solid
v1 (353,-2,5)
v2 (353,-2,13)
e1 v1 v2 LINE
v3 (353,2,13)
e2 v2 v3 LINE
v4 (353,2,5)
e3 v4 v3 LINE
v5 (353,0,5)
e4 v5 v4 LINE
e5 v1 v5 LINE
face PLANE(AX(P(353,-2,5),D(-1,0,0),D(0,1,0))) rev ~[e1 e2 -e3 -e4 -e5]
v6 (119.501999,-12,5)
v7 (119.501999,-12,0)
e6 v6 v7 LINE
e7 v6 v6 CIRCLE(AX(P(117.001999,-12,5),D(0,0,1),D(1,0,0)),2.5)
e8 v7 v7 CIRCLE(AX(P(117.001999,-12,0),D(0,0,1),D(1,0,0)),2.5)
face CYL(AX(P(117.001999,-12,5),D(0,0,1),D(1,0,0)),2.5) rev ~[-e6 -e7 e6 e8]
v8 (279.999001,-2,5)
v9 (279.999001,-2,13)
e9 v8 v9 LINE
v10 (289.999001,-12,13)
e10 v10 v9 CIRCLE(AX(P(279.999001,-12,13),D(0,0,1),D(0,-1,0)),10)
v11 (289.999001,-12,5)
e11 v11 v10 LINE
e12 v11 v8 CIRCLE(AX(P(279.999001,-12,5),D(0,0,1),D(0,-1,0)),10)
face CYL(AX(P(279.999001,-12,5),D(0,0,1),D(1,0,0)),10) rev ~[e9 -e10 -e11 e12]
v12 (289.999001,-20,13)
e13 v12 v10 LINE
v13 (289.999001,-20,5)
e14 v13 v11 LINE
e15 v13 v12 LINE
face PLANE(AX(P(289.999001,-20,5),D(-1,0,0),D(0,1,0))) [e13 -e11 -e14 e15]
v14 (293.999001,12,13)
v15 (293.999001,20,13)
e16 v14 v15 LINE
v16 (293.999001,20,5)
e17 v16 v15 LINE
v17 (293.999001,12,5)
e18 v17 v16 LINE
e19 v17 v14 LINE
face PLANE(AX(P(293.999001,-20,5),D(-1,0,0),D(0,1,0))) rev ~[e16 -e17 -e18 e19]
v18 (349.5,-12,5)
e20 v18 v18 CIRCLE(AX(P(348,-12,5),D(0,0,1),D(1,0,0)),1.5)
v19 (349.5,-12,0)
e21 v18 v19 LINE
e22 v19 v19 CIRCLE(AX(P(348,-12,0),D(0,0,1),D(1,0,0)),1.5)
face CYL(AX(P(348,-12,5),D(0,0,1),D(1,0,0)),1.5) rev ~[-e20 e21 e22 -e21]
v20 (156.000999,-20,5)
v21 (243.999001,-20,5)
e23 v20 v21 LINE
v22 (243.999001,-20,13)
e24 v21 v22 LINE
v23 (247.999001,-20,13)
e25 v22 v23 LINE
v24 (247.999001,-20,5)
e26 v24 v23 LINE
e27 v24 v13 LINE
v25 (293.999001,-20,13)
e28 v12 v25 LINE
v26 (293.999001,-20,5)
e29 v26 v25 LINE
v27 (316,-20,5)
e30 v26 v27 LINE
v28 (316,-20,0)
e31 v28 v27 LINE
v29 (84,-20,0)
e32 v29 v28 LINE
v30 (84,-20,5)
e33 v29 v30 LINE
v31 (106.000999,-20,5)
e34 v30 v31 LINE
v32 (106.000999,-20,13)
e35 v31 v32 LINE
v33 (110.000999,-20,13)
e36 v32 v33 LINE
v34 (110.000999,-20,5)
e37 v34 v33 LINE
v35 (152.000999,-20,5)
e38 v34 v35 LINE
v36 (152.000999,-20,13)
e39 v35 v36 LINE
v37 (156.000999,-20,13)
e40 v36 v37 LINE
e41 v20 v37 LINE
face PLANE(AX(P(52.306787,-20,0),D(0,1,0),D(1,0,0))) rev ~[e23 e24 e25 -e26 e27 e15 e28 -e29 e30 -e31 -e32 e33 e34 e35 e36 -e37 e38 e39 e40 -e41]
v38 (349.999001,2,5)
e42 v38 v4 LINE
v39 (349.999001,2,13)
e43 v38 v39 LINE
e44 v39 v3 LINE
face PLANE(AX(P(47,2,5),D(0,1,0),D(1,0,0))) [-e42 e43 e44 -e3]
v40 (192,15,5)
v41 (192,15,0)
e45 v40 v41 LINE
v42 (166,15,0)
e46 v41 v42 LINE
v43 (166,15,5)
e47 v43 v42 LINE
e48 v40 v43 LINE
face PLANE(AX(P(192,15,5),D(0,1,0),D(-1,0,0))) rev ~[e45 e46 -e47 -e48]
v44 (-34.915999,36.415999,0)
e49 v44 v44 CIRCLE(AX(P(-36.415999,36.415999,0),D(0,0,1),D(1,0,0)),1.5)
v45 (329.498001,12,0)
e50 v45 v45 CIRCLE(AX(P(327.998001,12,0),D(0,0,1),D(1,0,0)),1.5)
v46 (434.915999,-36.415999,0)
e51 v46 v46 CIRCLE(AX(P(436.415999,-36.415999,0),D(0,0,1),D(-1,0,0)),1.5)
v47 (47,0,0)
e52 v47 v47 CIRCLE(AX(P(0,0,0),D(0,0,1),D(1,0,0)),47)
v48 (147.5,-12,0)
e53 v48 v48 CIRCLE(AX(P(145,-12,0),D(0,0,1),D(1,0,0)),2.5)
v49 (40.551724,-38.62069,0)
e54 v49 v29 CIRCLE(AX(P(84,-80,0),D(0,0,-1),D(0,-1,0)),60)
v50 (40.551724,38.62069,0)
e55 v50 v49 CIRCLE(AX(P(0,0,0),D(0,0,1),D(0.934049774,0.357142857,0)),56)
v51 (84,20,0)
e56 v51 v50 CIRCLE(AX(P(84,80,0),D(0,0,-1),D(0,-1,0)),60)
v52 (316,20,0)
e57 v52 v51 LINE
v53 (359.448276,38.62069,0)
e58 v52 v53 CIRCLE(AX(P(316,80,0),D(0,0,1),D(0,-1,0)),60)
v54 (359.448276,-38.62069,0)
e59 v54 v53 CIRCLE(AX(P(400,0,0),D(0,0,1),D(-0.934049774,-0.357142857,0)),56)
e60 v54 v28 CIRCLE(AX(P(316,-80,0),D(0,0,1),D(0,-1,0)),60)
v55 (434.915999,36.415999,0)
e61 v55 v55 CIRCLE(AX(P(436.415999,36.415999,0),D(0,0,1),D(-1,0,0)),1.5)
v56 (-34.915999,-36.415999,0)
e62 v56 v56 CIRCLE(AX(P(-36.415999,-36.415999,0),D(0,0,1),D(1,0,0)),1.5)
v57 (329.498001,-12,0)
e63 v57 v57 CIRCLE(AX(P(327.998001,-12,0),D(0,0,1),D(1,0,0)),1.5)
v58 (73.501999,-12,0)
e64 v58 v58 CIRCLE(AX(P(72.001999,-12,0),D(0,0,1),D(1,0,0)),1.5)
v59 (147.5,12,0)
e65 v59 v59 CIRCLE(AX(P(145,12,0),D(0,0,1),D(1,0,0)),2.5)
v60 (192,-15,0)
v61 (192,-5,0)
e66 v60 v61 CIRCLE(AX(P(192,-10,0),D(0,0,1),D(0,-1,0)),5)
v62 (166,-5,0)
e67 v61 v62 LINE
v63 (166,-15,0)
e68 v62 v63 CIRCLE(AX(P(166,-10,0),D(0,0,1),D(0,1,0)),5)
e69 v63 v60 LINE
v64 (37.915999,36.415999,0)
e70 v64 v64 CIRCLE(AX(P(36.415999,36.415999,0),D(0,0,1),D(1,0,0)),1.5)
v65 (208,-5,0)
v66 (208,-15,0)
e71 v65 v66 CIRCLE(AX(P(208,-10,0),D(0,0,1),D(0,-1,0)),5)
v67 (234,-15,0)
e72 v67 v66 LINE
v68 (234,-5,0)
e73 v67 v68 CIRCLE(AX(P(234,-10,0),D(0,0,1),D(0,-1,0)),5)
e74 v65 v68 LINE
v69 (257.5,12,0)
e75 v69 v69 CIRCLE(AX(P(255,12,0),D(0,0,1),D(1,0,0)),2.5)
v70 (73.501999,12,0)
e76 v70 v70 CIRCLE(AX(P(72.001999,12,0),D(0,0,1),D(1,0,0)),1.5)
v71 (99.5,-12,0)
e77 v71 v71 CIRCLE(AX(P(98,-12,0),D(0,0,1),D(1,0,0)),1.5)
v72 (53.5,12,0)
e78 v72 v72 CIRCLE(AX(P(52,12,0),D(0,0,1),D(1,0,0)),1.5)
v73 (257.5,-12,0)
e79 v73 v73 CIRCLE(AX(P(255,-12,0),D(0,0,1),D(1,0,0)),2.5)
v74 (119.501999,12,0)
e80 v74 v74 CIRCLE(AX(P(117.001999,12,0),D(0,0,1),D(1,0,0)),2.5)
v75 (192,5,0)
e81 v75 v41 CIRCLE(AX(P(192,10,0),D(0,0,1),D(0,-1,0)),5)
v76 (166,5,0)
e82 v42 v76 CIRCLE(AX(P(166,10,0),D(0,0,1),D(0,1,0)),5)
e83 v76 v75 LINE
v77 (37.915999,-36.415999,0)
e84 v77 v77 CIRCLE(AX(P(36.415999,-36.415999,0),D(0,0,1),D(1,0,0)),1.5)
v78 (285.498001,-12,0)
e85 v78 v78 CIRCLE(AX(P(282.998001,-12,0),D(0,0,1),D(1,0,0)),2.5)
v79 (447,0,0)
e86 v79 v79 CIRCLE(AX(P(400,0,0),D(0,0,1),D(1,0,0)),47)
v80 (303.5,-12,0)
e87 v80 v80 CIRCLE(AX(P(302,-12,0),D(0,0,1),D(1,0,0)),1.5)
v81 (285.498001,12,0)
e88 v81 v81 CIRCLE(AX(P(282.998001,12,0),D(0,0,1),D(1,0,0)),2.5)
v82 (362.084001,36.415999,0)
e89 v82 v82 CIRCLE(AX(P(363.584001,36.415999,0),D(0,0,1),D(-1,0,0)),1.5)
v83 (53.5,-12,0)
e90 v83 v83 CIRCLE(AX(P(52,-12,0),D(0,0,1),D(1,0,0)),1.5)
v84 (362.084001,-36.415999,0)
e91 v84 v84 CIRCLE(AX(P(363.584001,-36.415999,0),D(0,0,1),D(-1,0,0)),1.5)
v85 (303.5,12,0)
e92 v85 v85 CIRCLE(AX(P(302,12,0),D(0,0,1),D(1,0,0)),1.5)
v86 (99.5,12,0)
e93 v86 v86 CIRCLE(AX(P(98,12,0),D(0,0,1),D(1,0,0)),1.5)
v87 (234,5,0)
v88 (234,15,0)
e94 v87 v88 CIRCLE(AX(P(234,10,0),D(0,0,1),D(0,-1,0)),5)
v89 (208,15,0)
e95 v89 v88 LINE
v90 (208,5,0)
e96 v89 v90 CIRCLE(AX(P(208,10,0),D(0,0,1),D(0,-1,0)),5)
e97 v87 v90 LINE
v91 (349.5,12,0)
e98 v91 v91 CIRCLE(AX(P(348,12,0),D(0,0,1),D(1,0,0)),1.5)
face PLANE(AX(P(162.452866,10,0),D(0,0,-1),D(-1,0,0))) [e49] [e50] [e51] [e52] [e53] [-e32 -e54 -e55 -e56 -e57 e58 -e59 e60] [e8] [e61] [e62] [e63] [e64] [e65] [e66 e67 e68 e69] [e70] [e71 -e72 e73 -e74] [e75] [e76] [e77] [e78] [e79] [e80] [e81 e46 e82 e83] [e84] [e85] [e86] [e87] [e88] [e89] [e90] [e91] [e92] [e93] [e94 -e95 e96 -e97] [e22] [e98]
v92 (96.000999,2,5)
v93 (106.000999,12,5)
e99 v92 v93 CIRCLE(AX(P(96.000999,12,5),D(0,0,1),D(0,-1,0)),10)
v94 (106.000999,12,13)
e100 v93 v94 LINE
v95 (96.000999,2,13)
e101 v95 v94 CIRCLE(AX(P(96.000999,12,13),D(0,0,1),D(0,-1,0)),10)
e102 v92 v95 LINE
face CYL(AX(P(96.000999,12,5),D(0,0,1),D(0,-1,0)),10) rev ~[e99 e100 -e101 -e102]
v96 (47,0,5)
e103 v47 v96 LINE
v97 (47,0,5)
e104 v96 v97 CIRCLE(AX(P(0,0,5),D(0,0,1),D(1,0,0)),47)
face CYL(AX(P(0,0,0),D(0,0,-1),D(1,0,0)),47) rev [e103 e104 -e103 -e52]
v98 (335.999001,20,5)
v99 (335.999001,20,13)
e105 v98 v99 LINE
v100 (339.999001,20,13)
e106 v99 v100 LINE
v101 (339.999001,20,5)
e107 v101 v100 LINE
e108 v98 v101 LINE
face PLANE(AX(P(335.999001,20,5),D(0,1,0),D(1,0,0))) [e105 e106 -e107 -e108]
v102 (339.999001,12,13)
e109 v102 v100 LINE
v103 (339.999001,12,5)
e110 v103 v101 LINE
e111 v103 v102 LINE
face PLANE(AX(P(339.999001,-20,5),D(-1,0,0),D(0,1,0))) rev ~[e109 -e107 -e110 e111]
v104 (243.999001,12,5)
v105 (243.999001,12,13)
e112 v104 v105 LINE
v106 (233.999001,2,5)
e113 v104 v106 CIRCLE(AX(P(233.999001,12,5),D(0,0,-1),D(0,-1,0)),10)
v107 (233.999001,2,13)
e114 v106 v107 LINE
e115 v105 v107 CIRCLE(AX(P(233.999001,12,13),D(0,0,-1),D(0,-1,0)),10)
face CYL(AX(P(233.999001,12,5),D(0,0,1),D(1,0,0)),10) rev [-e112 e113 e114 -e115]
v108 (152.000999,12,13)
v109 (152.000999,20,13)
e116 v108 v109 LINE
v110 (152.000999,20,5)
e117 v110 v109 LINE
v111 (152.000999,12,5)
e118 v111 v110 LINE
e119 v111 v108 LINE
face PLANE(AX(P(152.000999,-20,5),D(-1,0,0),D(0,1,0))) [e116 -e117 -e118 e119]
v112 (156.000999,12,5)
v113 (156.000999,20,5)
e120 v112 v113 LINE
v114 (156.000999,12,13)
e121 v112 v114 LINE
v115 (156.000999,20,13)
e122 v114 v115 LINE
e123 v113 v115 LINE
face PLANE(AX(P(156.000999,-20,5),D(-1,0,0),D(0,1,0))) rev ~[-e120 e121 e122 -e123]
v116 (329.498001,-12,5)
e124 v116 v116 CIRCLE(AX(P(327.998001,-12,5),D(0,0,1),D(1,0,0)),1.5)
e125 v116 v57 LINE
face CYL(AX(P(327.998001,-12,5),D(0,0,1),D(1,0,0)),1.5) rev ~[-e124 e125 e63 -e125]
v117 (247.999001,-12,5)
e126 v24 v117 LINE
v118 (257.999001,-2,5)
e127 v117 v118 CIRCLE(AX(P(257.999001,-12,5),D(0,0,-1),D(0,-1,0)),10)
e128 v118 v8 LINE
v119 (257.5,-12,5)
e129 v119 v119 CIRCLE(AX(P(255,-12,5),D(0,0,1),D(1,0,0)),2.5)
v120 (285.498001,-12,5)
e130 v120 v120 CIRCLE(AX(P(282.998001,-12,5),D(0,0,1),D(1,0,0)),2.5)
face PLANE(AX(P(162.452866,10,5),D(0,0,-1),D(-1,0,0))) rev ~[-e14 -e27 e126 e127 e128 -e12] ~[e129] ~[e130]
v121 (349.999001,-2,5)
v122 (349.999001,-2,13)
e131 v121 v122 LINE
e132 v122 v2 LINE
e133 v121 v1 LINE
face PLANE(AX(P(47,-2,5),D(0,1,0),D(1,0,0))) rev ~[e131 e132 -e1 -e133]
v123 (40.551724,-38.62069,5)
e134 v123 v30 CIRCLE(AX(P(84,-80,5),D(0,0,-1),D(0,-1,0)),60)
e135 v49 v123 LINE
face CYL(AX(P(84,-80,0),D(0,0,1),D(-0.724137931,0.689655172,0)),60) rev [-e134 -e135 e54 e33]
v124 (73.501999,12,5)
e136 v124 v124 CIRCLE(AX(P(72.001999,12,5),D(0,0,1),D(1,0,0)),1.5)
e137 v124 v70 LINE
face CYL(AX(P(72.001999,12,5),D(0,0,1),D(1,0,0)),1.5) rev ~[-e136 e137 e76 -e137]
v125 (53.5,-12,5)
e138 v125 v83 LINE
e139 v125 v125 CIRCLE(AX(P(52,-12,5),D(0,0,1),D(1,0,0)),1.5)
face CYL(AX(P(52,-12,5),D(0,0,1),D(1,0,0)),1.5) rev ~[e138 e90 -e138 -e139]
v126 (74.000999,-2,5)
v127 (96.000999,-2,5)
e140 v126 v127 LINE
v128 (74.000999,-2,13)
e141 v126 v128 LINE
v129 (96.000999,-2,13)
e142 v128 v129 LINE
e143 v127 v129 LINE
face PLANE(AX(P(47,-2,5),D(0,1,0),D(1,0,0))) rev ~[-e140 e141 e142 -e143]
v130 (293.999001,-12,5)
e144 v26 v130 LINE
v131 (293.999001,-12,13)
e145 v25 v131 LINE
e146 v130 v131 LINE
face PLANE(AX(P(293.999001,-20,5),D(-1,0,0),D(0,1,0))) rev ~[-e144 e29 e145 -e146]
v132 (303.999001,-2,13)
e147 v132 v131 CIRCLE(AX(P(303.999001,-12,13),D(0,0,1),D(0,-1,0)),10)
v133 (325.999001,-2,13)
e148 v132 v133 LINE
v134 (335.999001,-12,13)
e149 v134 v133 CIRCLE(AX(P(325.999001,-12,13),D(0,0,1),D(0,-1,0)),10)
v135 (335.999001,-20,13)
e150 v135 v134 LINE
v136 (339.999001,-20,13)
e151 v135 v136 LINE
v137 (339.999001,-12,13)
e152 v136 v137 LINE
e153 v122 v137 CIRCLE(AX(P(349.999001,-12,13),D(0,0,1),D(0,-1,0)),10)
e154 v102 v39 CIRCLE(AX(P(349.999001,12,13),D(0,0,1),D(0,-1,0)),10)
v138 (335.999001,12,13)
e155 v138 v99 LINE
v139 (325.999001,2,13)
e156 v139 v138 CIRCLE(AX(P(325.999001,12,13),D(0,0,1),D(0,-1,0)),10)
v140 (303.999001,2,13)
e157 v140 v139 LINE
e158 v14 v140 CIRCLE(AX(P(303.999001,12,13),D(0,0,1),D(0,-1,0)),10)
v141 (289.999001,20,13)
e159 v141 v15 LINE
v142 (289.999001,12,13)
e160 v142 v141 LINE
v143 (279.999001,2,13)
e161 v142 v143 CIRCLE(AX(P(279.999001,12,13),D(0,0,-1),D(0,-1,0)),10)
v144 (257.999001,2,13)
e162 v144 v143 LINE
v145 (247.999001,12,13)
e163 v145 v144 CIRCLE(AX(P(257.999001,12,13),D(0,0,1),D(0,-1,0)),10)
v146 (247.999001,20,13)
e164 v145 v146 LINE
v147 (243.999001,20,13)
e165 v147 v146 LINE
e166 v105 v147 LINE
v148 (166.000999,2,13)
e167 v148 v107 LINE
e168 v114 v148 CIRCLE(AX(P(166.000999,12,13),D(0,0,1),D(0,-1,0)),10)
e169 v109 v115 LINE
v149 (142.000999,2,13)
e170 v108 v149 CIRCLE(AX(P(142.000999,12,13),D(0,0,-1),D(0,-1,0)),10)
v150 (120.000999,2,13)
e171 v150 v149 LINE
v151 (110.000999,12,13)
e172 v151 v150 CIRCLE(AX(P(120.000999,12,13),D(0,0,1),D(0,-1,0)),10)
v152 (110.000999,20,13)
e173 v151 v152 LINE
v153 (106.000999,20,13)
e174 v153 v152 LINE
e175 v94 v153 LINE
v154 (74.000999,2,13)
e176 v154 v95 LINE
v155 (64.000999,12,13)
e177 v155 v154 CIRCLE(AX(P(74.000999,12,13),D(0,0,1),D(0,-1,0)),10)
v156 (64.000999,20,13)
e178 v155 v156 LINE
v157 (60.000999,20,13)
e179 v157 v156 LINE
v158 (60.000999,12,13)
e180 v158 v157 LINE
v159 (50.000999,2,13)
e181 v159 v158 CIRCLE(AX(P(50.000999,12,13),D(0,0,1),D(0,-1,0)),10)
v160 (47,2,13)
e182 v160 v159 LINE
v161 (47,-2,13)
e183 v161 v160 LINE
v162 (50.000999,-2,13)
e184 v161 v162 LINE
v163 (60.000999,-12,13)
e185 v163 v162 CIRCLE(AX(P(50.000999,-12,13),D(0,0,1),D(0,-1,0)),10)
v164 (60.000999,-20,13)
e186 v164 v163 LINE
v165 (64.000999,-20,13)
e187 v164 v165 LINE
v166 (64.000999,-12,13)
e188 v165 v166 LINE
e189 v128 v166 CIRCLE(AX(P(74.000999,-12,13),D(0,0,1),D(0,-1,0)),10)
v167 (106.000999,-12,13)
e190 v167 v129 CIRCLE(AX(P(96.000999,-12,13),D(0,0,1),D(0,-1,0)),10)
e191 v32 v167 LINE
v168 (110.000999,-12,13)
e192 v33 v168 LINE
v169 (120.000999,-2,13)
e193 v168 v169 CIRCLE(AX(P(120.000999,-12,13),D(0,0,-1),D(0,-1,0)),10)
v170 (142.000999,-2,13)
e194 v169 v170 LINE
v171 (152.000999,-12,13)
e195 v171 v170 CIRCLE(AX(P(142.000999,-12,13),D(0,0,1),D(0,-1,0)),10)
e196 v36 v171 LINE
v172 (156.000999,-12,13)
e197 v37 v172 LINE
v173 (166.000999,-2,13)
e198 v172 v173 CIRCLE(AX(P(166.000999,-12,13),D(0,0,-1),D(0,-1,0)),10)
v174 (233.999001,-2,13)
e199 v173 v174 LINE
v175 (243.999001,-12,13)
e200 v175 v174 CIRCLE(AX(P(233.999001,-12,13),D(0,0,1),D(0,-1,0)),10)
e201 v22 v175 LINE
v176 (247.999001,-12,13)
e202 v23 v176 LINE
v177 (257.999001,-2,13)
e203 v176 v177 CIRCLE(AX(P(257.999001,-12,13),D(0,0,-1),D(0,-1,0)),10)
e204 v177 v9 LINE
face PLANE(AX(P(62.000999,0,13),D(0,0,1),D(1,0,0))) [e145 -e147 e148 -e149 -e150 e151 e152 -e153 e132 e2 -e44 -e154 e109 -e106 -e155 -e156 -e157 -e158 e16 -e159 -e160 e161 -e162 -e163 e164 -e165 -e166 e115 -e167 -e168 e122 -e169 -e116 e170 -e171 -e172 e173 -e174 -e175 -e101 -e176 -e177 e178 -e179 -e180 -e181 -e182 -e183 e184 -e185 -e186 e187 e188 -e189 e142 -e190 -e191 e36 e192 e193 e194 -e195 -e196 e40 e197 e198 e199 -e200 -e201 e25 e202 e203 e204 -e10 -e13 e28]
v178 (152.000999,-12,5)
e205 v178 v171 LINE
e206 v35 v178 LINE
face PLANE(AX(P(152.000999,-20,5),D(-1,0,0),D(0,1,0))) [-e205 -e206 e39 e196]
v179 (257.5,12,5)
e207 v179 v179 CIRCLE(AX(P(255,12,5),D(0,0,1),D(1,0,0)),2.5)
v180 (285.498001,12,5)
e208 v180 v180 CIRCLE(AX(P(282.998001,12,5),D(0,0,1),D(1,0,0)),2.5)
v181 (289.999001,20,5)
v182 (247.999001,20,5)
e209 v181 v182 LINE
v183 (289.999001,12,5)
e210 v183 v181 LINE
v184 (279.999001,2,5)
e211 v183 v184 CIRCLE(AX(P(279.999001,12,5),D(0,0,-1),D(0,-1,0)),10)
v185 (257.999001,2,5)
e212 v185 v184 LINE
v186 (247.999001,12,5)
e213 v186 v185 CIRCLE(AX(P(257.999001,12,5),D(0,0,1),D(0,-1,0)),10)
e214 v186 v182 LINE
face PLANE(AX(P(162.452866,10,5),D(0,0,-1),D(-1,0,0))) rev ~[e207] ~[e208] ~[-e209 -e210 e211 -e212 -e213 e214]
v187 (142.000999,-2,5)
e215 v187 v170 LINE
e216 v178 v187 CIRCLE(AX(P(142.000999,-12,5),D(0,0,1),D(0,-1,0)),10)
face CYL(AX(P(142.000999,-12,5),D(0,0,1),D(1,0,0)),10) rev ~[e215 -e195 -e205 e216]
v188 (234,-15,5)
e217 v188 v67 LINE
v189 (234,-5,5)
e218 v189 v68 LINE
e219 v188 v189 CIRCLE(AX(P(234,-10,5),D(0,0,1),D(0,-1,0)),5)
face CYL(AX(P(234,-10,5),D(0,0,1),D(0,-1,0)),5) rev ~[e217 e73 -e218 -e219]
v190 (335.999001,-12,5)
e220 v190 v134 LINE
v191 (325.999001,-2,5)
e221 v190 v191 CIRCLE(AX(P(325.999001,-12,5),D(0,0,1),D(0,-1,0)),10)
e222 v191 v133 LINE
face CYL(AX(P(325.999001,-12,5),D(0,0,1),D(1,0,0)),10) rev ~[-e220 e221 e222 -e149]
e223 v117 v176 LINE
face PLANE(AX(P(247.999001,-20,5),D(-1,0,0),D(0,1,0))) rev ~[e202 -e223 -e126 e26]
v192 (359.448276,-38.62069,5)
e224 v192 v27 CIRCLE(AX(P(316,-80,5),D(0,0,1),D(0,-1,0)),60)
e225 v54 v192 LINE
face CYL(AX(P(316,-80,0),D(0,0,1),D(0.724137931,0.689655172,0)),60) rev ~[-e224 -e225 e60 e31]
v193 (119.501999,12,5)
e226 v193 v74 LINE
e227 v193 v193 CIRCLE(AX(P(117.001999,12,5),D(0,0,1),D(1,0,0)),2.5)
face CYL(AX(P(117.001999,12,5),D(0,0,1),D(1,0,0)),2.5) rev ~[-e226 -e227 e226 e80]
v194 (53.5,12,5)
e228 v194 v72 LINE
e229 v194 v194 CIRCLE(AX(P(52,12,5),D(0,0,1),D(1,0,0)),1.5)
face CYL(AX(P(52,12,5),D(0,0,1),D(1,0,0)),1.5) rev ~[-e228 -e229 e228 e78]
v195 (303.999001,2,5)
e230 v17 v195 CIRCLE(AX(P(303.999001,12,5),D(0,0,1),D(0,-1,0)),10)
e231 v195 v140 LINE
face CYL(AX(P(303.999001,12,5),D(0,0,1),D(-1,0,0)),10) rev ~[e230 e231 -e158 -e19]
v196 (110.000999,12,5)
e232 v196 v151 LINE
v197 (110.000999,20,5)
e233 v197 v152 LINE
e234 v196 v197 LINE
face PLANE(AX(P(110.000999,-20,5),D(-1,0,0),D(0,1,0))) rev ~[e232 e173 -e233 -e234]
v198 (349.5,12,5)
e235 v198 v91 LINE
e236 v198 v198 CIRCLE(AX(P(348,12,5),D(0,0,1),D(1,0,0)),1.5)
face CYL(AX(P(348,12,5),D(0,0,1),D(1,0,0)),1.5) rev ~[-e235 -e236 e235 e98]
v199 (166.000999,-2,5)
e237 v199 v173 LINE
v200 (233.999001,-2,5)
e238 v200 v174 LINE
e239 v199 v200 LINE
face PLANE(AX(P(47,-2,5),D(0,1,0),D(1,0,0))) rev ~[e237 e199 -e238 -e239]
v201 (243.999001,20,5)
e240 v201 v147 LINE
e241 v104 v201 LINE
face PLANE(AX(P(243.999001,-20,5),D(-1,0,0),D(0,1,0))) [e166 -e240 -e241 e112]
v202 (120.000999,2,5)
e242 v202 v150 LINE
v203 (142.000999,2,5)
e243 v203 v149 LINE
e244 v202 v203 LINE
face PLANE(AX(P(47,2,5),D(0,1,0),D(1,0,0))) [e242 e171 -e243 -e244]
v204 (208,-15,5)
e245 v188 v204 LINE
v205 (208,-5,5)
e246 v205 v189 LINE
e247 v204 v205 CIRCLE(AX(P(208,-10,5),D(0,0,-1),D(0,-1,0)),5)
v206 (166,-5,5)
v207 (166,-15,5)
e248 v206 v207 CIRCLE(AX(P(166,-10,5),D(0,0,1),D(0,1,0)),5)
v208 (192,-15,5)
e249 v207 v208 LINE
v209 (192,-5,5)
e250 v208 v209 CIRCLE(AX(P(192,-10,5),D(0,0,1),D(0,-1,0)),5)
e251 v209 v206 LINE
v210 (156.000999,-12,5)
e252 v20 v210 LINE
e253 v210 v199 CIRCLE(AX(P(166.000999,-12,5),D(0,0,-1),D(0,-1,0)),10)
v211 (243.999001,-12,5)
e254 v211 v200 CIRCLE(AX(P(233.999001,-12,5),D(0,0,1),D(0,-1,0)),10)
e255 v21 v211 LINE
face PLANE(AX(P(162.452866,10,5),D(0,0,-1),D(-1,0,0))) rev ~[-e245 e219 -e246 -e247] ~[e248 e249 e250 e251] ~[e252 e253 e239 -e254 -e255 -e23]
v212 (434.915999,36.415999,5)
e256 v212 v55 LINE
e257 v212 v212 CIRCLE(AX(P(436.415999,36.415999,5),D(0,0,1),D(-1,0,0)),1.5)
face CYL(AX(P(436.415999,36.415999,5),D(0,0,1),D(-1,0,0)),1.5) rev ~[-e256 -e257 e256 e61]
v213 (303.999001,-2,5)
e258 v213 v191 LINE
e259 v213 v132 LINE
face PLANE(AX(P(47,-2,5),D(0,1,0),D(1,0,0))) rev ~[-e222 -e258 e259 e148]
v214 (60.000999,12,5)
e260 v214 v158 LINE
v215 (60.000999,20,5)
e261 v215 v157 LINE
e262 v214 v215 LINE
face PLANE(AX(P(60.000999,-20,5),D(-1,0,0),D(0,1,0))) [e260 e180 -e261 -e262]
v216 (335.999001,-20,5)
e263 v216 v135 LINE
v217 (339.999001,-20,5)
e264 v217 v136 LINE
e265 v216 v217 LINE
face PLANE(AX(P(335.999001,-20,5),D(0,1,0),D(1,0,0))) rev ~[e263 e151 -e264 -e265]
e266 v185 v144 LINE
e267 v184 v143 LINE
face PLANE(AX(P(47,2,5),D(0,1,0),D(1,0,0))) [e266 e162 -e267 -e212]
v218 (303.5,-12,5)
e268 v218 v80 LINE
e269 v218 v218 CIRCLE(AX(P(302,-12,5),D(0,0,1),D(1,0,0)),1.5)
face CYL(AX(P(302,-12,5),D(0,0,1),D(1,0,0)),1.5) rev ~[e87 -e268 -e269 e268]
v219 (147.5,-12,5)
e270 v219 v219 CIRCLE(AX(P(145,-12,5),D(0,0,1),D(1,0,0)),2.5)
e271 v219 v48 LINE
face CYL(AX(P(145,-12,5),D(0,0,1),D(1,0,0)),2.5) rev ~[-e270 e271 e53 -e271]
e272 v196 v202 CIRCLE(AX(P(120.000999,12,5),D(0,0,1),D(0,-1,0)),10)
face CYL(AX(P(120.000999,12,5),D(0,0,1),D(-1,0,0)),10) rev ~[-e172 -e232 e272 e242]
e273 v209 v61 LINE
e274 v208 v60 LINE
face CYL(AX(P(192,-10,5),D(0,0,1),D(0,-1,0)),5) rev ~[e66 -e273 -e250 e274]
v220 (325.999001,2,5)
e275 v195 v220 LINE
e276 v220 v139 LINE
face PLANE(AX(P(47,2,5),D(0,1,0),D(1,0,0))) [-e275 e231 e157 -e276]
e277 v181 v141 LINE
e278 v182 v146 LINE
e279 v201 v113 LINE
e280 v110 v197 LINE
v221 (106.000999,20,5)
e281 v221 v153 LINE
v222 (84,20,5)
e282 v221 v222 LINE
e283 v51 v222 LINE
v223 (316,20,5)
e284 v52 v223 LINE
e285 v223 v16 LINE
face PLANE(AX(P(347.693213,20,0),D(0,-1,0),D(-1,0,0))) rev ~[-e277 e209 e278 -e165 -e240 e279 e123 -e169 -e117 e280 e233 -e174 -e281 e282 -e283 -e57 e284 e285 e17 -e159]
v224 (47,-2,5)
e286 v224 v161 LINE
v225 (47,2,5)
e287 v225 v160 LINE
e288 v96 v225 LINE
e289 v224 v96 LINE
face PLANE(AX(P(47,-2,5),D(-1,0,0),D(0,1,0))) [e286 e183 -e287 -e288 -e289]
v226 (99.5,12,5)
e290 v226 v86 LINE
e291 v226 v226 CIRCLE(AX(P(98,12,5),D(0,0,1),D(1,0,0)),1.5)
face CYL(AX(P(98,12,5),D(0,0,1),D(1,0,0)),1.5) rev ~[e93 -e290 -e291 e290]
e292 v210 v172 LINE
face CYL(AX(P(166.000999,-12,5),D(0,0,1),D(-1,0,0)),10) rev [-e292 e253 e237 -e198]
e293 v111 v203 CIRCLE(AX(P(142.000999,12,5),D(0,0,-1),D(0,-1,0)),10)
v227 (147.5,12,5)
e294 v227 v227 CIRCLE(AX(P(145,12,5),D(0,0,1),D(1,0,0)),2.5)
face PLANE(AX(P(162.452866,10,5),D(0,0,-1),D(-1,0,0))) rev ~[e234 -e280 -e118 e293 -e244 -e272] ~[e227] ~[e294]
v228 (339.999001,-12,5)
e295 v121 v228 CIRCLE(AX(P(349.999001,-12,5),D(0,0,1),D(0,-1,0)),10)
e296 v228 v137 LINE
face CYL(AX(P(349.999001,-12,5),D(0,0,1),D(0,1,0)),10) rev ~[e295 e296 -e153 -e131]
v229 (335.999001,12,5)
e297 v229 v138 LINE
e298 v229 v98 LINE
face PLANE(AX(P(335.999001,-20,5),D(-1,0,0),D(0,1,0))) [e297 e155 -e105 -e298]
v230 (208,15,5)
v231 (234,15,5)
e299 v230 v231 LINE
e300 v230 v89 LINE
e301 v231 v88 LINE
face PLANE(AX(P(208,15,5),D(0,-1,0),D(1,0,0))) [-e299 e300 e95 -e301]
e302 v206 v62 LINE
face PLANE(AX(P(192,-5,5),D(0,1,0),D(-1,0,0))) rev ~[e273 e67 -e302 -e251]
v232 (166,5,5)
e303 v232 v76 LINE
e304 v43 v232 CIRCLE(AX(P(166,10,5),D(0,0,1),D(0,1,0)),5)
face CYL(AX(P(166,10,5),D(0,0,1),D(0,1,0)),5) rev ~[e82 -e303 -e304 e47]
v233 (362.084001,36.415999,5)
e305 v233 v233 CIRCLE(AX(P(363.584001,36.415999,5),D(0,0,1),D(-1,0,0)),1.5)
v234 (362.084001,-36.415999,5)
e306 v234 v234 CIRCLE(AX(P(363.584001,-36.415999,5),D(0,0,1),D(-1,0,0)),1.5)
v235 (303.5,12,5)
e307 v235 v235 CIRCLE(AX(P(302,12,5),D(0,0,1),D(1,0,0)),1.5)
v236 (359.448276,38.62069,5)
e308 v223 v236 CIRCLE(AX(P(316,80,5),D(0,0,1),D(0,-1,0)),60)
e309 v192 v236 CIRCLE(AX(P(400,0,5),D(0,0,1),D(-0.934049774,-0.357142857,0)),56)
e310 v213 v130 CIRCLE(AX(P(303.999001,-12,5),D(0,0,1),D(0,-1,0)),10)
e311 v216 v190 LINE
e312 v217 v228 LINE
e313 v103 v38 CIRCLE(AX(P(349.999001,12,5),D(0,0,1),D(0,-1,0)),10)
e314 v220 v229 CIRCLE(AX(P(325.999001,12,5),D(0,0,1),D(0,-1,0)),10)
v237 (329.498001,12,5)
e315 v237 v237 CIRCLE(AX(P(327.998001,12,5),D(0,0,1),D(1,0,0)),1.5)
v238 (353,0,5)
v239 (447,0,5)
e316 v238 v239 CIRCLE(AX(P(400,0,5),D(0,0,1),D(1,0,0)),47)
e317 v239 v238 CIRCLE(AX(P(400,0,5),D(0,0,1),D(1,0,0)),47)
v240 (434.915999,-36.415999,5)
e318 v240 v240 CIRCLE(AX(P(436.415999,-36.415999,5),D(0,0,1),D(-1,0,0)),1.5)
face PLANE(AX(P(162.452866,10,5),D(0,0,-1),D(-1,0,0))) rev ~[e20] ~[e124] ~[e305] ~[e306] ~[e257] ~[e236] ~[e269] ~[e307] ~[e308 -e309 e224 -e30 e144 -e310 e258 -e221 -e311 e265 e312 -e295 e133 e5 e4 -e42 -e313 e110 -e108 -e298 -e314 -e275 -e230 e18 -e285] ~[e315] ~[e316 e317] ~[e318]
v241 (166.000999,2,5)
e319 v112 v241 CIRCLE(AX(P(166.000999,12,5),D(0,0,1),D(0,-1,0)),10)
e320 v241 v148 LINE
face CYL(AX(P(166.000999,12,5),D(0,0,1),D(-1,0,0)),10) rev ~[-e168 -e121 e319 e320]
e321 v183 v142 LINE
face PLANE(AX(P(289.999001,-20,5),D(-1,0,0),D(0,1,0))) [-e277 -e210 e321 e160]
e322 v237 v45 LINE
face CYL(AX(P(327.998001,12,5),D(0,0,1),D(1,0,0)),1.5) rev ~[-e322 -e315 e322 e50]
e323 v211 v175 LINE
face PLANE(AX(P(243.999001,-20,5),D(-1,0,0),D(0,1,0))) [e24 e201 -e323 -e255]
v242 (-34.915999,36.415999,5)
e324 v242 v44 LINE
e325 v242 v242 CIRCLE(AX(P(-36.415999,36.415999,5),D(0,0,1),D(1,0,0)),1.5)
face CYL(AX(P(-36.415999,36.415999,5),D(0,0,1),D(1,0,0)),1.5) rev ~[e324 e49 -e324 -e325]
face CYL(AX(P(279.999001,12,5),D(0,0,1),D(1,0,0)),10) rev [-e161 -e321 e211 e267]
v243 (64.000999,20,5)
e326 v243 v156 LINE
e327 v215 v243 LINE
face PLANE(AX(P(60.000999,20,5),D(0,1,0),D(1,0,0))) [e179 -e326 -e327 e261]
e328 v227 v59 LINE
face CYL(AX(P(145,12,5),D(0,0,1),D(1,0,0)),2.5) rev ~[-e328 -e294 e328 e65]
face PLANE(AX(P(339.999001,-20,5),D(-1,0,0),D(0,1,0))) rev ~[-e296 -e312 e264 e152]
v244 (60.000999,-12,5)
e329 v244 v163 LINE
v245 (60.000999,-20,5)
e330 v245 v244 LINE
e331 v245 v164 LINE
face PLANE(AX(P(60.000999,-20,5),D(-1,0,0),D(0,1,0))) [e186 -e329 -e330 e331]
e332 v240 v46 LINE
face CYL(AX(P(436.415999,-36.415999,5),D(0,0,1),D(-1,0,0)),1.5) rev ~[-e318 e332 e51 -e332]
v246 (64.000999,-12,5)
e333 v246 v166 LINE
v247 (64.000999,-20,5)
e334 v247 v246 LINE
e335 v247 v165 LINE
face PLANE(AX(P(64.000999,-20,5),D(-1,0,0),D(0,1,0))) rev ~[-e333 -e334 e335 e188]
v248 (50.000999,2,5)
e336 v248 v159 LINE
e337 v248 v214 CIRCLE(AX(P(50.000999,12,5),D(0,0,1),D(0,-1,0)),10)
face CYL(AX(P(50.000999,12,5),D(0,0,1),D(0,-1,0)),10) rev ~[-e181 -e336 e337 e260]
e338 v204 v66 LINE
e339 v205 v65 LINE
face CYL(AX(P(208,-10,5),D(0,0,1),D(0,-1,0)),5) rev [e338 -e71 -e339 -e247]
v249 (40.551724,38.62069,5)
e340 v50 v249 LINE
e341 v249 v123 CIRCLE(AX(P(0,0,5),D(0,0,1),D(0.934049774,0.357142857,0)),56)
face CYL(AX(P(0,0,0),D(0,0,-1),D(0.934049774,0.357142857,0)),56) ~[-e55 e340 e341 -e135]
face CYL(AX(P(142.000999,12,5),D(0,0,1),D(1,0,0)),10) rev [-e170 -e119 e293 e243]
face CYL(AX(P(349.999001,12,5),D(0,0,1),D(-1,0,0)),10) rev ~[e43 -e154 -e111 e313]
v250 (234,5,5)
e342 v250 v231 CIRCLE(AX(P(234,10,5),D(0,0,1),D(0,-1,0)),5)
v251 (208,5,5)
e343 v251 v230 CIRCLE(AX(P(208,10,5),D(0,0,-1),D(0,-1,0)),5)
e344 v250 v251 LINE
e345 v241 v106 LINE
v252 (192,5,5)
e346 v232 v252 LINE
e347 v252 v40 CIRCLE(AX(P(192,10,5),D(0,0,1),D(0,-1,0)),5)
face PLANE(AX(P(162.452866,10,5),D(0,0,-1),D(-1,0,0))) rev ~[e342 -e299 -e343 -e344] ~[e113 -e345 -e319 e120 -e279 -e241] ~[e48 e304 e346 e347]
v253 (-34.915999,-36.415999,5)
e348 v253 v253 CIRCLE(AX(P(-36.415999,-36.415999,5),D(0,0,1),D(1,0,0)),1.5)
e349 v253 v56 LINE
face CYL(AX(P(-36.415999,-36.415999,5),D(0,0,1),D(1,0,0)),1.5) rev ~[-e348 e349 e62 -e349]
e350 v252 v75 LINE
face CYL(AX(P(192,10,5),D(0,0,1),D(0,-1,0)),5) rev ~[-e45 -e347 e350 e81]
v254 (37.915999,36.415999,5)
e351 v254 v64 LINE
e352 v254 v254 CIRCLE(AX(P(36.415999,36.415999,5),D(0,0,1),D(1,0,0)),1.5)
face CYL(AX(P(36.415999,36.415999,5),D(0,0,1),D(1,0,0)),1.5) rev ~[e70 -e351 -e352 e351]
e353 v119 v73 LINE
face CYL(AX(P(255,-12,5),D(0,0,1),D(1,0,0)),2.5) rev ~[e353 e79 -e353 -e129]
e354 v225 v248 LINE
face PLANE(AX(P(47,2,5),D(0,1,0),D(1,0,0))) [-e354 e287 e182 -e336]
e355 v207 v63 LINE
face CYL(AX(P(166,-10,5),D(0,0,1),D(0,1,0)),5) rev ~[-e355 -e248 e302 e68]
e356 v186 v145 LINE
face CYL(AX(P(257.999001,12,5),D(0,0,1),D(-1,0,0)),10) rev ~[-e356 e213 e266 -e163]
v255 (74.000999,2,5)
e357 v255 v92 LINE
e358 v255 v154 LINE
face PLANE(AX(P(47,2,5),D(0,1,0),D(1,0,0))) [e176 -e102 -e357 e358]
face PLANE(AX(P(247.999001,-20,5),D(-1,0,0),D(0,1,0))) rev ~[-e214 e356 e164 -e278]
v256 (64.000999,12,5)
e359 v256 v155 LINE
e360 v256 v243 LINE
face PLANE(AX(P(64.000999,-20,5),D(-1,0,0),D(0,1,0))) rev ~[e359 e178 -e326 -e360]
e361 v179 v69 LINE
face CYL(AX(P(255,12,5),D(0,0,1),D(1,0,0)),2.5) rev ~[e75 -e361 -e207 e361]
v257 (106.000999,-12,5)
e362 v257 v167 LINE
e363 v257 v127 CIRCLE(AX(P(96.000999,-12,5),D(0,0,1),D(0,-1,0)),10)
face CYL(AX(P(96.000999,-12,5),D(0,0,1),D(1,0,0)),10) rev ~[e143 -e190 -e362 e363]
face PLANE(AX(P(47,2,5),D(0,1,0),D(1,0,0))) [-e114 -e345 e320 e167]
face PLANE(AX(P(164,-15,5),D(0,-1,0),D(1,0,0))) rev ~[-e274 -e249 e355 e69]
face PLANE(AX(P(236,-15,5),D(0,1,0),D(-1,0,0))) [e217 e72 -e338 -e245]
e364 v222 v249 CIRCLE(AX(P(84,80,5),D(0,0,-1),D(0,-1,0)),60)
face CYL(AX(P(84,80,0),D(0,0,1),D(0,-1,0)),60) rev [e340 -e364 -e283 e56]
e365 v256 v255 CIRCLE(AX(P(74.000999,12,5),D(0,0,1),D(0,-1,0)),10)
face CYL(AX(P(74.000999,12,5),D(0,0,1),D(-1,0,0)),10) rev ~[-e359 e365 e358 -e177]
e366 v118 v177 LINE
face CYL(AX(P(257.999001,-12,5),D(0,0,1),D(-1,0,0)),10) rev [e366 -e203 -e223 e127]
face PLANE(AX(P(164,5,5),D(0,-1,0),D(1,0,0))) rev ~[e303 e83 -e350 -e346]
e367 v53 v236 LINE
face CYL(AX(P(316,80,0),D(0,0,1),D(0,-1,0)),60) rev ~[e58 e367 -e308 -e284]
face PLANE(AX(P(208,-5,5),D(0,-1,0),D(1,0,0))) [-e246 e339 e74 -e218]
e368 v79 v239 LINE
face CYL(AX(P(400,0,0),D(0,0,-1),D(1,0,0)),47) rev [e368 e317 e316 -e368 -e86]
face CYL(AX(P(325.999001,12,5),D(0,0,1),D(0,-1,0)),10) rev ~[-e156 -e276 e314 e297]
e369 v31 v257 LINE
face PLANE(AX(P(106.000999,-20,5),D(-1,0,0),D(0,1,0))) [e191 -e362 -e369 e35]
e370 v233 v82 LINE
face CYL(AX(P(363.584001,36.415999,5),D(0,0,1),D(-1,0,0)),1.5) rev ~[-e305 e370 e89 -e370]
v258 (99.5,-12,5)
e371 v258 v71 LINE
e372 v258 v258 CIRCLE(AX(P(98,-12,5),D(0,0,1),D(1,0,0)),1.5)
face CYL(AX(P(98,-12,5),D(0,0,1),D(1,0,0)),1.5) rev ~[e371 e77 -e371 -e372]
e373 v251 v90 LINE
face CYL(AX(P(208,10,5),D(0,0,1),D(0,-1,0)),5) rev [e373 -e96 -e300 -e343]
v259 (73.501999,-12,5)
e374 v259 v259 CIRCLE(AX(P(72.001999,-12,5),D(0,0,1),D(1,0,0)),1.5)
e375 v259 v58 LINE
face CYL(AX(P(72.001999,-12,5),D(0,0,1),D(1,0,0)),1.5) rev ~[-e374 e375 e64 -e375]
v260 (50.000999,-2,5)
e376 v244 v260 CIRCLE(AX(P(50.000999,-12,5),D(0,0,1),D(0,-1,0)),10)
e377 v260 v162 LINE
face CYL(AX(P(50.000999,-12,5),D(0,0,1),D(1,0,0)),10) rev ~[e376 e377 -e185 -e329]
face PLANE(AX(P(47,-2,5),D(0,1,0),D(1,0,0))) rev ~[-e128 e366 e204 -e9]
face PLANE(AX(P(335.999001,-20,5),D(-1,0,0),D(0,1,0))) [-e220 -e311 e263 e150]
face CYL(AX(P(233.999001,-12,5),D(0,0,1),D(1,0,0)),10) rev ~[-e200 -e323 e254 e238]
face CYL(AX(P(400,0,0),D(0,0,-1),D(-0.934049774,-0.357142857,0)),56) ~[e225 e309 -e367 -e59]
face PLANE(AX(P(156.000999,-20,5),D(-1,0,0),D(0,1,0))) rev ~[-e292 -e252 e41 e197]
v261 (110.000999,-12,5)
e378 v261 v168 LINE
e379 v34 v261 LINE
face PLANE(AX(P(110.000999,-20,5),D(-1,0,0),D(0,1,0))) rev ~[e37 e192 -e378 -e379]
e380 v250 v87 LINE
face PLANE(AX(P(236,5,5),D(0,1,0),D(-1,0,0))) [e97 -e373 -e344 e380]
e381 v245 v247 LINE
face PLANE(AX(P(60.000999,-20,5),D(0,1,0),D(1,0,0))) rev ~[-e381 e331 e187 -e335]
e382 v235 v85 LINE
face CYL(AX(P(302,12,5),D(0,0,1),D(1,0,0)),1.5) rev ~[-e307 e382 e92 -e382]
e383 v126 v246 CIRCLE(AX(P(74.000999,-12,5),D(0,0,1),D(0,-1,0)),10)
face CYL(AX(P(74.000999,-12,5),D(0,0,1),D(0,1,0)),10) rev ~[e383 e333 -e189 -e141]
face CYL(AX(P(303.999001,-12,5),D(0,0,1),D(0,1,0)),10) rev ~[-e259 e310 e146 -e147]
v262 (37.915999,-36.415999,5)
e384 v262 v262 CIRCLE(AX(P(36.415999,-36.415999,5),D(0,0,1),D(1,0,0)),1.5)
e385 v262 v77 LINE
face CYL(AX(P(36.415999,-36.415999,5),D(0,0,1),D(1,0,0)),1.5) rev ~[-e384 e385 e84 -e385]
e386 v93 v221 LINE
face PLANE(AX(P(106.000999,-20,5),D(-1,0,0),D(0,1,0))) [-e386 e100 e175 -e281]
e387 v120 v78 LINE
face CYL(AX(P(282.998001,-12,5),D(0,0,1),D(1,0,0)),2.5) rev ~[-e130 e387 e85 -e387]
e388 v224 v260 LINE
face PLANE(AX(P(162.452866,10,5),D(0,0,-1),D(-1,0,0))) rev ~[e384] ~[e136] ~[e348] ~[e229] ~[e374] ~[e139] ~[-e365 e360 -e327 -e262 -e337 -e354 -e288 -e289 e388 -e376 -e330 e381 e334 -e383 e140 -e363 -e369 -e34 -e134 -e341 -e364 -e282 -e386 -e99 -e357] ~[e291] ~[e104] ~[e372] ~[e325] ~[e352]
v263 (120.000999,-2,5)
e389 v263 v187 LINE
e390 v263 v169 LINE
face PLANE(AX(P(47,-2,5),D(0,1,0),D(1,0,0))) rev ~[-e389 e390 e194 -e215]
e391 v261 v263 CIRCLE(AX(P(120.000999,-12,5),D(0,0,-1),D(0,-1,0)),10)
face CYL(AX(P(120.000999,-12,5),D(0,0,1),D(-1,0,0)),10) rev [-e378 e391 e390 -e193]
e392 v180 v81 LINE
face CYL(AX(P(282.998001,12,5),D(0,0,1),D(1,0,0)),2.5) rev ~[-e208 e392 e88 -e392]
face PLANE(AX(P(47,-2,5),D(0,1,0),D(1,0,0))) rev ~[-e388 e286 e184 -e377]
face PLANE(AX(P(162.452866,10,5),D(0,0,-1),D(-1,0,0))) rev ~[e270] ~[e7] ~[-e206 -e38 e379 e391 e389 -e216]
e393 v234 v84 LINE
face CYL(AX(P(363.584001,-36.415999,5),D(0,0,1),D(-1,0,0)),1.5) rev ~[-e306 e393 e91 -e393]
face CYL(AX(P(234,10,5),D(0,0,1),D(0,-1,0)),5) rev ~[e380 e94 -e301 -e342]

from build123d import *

# Parameters (mm, degrees)
SKETCH_1_R           = 47
EXTRUDE_1_DEPTH      = 5
FILLET_1_R           = 60
SKETCH_31_R          = 1.5
CUT_EXTRUDE_14_DEPTH = 5
SKETCH_32_W          = 306
SKETCH_32_H          = 4
EXTRUDE_2_DEPTH      = 8
CUT_EXTRUDE_17_DEPTH = 8
SKETCH_35_R          = 2.5
CUT_EXTRUDE_18_DEPTH = 10
EXTRUDE_3_DEPTH      = 5
SKETCH_37_R          = 1.5
CUT_EXTRUDE_19_DEPTH = 10
SKETCH_38_W          = 4
SKETCH_38_H          = 40
EXTRUDE_4_DEPTH      = 8
FILLET_2_R           = 10
SKETCH_41_R          = 1.5
SKETCH_41_R_2        = 2.5
CUT_EXTRUDE_20_DEPTH = 10


with BuildPart() as part:
    # 草图1 → 凸台-拉伸1 (new body)
    with BuildSketch(Plane.XY):
        with BuildLine():
            Line((347.693212678, 20), (52.306787322, 20))
            ThreePointArc((52.306787322, 20), (-56, 0), (52.306787322, -20))
            Line((52.306787322, -20), (347.693212678, -20))
            ThreePointArc((347.693212678, -20), (456, 0), (347.693212678, 20))
        make_face()
        Circle(SKETCH_1_R, mode=Mode.SUBTRACT)
        with Locations((400, 0)):
            Circle(SKETCH_1_R, mode=Mode.SUBTRACT)
    extrude(amount=EXTRUDE_1_DEPTH)

    # 圆角1
    fillet_1_edges = [part.edges().sort_by_distance(p)[0] for p in [
        (347.693212678, -20, 2.5),
        (52.306787322, -20, 2.5),
        (52.306787322, 20, 2.5),
        (347.693212678, 20, 2.5),
    ]]
    fillet(fillet_1_edges, radius=FILLET_1_R)

    # 草图31 → 切除-拉伸14 (cut)
    with BuildSketch(Plane.XY.offset(5)):
        with Locations((36.415999231, 36.415999231)):
            Circle(SKETCH_31_R)
        with Locations((36.415999231, -36.415999231)):
            Circle(SKETCH_31_R)
        with Locations((-36.415999231, -36.415999231)):
            Circle(SKETCH_31_R)
        with Locations((-36.415999231, 36.415999231)):
            Circle(SKETCH_31_R)
        with Locations(Location((436.415999231, 36.415999231, 0), (0, 0, 180))):
            Circle(SKETCH_31_R)
        with Locations(Location((436.415999231, -36.415999231, 0), (0, 0, 180))):
            Circle(SKETCH_31_R)
        with Locations(Location((363.584000769, -36.415999231, 0), (0, 0, 180))):
            Circle(SKETCH_31_R)
        with Locations(Location((363.584000769, 36.415999231, 0), (0, 0, 180))):
            Circle(SKETCH_31_R)
    extrude(amount=-CUT_EXTRUDE_14_DEPTH, mode=Mode.SUBTRACT)

    # 草图32 → 凸台-拉伸2 (add)
    with BuildSketch(Plane.XY.offset(5)):
        with Locations((200, 0)):
            Rectangle(SKETCH_32_W, SKETCH_32_H)
    extrude(amount=EXTRUDE_2_DEPTH)

    # 草图34 → 切除-拉伸17 (cut)
    with BuildSketch(Plane.XY.offset(5)):
        with BuildLine():
            Line((164, 5), (192, 5))
            ThreePointArc((192, 5), (197, 10), (192, 15))
            Line((192, 15), (164, 15))
            ThreePointArc((164, 15), (159, 10), (164, 5))
        make_face()
        with BuildLine():
            Line((164, -15), (192, -15))
            ThreePointArc((192, -15), (197, -10), (192, -5))
            Line((192, -5), (164, -5))
            ThreePointArc((164, -5), (159, -10), (164, -15))
        make_face()
        with BuildLine():
            Line((208, 15), (236, 15))
            ThreePointArc((236, 15), (241, 10), (236, 5))
            Line((236, 5), (208, 5))
            ThreePointArc((208, 5), (203, 10), (208, 15))
        make_face()
        with BuildLine():
            Line((208, -5), (236, -5))
            ThreePointArc((236, -5), (241, -10), (236, -15))
            Line((236, -15), (208, -15))
            ThreePointArc((208, -15), (203, -10), (208, -5))
        make_face()
    extrude(amount=-CUT_EXTRUDE_17_DEPTH, mode=Mode.SUBTRACT)

    # 草图35 → 切除-拉伸18 (cut)
    with BuildSketch(Plane.XY.offset(5)):
        with Locations((145, 12)):
            Circle(SKETCH_35_R)
        with Locations((145, -12)):
            Circle(SKETCH_35_R)
        with Locations((255, 12)):
            Circle(SKETCH_35_R)
        with Locations((255, -12)):
            Circle(SKETCH_35_R)
    extrude(amount=-CUT_EXTRUDE_18_DEPTH, mode=Mode.SUBTRACT)

    # 草图36 → 凸台-拉伸3 (add)
    with BuildSketch(Plane.XY.offset(5)):
        with BuildLine():
            Line((164, 15), (166, 15))
            ThreePointArc((166, 15), (161, 10), (166, 5))
            Line((166, 5), (164, 5))
            ThreePointArc((164, 5), (159, 10), (164, 15))
        make_face()
        with BuildLine():
            Line((164, -5), (166, -5))
            ThreePointArc((166, -5), (161, -10), (166, -15))
            Line((166, -15), (164, -15))
            ThreePointArc((164, -15), (159, -10), (164, -5))
        make_face()
        with BuildLine():
            Line((234, 15), (236, 15))
            ThreePointArc((236, 15), (241, 10), (236, 5))
            Line((236, 5), (234, 5))
            ThreePointArc((234, 5), (239, 10), (234, 15))
        make_face()
        with BuildLine():
            Line((234, -5), (236, -5))
            ThreePointArc((236, -5), (241, -10), (236, -15))
            Line((236, -15), (234, -15))
            ThreePointArc((234, -15), (239, -10), (234, -5))
        make_face()
    extrude(amount=-EXTRUDE_3_DEPTH)

    # 草图37 → 切除-拉伸19 (cut)
    with BuildSketch(Plane.XY.offset(5)):
        with Locations((72.001998556, -12.000000249)):
            Circle(SKETCH_37_R)
        with Locations((72.001998556, 11.999999751)):
            Circle(SKETCH_37_R)
        with Locations((52.000000094, -12.000000249)):
            Circle(SKETCH_37_R)
        with Locations((52.000000094, 11.999999751)):
            Circle(SKETCH_37_R)
        with Locations((347.999999906, 11.999999751)):
            Circle(SKETCH_37_R)
        with Locations((347.999999906, -12.000000249)):
            Circle(SKETCH_37_R)
        with Locations((327.998001444, 11.999999751)):
            Circle(SKETCH_37_R)
        with Locations((327.998001444, -12.000000249)):
            Circle(SKETCH_37_R)
    extrude(amount=-CUT_EXTRUDE_19_DEPTH, mode=Mode.SUBTRACT)

    # 草图38 → 凸台-拉伸4 (add)
    with BuildSketch(Plane.XY.offset(5)):
        with Locations((62.000999325, 0)):
            Rectangle(SKETCH_38_W, SKETCH_38_H)
        with Locations((108.000999325, 0)):
            Rectangle(SKETCH_38_W, SKETCH_38_H)
        with Locations((154.000999325, 0)):
            Rectangle(SKETCH_38_W, SKETCH_38_H)
        with Locations((245.999000675, 0)):
            Rectangle(SKETCH_38_W, SKETCH_38_H)
        with Locations((291.999000675, 0)):
            Rectangle(SKETCH_38_W, SKETCH_38_H)
        with Locations((337.999000675, 0)):
            Rectangle(SKETCH_38_W, SKETCH_38_H)
    extrude(amount=EXTRUDE_4_DEPTH)

    # 圆角2
    fillet_2_edges = [part.edges().sort_by_distance(p)[0] for p in [
        (64.000999325, 2, 9),
        (64.000999325, -2, 9),
        (60.000999325, 2, 9),
        (60.000999325, -2, 9),
        (110.000999325, 2, 9),
        (110.000999325, -2, 9),
        (106.000999325, 2, 9),
        (106.000999325, -2, 9),
        (156.000999325, 2, 9),
        (156.000999325, -2, 9),
        (152.000999325, 2, 9),
        (152.000999325, -2, 9),
        (247.999000675, 2, 9),
        (247.999000675, -2, 9),
        (243.999000675, 2, 9),
        (243.999000675, -2, 9),
        (293.999000675, 2, 9),
        (293.999000675, -2, 9),
        (289.999000675, 2, 9),
        (289.999000675, -2, 9),
        (339.999000675, 2, 9),
        (339.999000675, -2, 9),
        (335.999000675, 2, 9),
        (335.999000675, -2, 9),
    ]]
    fillet(fillet_2_edges, radius=FILLET_2_R)

    # 草图41 → 切除-拉伸20 (cut)
    with BuildSketch(Plane.XY.offset(5)):
        with Locations((327.998001444, -12.000000249)):
            Circle(SKETCH_41_R)
        with Locations((327.998001444, 11.999999751)):
            Circle(SKETCH_41_R)
        with Locations((255, -12)):
            Circle(SKETCH_41_R_2)
        with Locations((255, 12)):
            Circle(SKETCH_41_R_2)
        with Locations((145, -12)):
            Circle(SKETCH_41_R_2)
        with Locations((145, 12)):
            Circle(SKETCH_41_R_2)
        with Locations((72.001998556, -12.000000249)):
            Circle(SKETCH_41_R)
        with Locations((72.001998556, 11.999999751)):
            Circle(SKETCH_41_R)
        with Locations((98.000000094, -12.000000249)):
            Circle(SKETCH_41_R)
        with Locations((98.000000094, 11.999999751)):
            Circle(SKETCH_41_R)
        with Locations((117.001998651, -12)):
            Circle(SKETCH_41_R_2)
        with Locations((117.001998651, 12)):
            Circle(SKETCH_41_R_2)
        with Locations((282.998001349, -12)):
            Circle(SKETCH_41_R_2)
        with Locations((282.998001349, 12)):
            Circle(SKETCH_41_R_2)
        with Locations((301.999999906, -12.000000249)):
            Circle(SKETCH_41_R)
        with Locations((301.999999906, 11.999999751)):
            Circle(SKETCH_41_R)
    extrude(amount=-CUT_EXTRUDE_20_DEPTH, mode=Mode.SUBTRACT)


solid = part.part
